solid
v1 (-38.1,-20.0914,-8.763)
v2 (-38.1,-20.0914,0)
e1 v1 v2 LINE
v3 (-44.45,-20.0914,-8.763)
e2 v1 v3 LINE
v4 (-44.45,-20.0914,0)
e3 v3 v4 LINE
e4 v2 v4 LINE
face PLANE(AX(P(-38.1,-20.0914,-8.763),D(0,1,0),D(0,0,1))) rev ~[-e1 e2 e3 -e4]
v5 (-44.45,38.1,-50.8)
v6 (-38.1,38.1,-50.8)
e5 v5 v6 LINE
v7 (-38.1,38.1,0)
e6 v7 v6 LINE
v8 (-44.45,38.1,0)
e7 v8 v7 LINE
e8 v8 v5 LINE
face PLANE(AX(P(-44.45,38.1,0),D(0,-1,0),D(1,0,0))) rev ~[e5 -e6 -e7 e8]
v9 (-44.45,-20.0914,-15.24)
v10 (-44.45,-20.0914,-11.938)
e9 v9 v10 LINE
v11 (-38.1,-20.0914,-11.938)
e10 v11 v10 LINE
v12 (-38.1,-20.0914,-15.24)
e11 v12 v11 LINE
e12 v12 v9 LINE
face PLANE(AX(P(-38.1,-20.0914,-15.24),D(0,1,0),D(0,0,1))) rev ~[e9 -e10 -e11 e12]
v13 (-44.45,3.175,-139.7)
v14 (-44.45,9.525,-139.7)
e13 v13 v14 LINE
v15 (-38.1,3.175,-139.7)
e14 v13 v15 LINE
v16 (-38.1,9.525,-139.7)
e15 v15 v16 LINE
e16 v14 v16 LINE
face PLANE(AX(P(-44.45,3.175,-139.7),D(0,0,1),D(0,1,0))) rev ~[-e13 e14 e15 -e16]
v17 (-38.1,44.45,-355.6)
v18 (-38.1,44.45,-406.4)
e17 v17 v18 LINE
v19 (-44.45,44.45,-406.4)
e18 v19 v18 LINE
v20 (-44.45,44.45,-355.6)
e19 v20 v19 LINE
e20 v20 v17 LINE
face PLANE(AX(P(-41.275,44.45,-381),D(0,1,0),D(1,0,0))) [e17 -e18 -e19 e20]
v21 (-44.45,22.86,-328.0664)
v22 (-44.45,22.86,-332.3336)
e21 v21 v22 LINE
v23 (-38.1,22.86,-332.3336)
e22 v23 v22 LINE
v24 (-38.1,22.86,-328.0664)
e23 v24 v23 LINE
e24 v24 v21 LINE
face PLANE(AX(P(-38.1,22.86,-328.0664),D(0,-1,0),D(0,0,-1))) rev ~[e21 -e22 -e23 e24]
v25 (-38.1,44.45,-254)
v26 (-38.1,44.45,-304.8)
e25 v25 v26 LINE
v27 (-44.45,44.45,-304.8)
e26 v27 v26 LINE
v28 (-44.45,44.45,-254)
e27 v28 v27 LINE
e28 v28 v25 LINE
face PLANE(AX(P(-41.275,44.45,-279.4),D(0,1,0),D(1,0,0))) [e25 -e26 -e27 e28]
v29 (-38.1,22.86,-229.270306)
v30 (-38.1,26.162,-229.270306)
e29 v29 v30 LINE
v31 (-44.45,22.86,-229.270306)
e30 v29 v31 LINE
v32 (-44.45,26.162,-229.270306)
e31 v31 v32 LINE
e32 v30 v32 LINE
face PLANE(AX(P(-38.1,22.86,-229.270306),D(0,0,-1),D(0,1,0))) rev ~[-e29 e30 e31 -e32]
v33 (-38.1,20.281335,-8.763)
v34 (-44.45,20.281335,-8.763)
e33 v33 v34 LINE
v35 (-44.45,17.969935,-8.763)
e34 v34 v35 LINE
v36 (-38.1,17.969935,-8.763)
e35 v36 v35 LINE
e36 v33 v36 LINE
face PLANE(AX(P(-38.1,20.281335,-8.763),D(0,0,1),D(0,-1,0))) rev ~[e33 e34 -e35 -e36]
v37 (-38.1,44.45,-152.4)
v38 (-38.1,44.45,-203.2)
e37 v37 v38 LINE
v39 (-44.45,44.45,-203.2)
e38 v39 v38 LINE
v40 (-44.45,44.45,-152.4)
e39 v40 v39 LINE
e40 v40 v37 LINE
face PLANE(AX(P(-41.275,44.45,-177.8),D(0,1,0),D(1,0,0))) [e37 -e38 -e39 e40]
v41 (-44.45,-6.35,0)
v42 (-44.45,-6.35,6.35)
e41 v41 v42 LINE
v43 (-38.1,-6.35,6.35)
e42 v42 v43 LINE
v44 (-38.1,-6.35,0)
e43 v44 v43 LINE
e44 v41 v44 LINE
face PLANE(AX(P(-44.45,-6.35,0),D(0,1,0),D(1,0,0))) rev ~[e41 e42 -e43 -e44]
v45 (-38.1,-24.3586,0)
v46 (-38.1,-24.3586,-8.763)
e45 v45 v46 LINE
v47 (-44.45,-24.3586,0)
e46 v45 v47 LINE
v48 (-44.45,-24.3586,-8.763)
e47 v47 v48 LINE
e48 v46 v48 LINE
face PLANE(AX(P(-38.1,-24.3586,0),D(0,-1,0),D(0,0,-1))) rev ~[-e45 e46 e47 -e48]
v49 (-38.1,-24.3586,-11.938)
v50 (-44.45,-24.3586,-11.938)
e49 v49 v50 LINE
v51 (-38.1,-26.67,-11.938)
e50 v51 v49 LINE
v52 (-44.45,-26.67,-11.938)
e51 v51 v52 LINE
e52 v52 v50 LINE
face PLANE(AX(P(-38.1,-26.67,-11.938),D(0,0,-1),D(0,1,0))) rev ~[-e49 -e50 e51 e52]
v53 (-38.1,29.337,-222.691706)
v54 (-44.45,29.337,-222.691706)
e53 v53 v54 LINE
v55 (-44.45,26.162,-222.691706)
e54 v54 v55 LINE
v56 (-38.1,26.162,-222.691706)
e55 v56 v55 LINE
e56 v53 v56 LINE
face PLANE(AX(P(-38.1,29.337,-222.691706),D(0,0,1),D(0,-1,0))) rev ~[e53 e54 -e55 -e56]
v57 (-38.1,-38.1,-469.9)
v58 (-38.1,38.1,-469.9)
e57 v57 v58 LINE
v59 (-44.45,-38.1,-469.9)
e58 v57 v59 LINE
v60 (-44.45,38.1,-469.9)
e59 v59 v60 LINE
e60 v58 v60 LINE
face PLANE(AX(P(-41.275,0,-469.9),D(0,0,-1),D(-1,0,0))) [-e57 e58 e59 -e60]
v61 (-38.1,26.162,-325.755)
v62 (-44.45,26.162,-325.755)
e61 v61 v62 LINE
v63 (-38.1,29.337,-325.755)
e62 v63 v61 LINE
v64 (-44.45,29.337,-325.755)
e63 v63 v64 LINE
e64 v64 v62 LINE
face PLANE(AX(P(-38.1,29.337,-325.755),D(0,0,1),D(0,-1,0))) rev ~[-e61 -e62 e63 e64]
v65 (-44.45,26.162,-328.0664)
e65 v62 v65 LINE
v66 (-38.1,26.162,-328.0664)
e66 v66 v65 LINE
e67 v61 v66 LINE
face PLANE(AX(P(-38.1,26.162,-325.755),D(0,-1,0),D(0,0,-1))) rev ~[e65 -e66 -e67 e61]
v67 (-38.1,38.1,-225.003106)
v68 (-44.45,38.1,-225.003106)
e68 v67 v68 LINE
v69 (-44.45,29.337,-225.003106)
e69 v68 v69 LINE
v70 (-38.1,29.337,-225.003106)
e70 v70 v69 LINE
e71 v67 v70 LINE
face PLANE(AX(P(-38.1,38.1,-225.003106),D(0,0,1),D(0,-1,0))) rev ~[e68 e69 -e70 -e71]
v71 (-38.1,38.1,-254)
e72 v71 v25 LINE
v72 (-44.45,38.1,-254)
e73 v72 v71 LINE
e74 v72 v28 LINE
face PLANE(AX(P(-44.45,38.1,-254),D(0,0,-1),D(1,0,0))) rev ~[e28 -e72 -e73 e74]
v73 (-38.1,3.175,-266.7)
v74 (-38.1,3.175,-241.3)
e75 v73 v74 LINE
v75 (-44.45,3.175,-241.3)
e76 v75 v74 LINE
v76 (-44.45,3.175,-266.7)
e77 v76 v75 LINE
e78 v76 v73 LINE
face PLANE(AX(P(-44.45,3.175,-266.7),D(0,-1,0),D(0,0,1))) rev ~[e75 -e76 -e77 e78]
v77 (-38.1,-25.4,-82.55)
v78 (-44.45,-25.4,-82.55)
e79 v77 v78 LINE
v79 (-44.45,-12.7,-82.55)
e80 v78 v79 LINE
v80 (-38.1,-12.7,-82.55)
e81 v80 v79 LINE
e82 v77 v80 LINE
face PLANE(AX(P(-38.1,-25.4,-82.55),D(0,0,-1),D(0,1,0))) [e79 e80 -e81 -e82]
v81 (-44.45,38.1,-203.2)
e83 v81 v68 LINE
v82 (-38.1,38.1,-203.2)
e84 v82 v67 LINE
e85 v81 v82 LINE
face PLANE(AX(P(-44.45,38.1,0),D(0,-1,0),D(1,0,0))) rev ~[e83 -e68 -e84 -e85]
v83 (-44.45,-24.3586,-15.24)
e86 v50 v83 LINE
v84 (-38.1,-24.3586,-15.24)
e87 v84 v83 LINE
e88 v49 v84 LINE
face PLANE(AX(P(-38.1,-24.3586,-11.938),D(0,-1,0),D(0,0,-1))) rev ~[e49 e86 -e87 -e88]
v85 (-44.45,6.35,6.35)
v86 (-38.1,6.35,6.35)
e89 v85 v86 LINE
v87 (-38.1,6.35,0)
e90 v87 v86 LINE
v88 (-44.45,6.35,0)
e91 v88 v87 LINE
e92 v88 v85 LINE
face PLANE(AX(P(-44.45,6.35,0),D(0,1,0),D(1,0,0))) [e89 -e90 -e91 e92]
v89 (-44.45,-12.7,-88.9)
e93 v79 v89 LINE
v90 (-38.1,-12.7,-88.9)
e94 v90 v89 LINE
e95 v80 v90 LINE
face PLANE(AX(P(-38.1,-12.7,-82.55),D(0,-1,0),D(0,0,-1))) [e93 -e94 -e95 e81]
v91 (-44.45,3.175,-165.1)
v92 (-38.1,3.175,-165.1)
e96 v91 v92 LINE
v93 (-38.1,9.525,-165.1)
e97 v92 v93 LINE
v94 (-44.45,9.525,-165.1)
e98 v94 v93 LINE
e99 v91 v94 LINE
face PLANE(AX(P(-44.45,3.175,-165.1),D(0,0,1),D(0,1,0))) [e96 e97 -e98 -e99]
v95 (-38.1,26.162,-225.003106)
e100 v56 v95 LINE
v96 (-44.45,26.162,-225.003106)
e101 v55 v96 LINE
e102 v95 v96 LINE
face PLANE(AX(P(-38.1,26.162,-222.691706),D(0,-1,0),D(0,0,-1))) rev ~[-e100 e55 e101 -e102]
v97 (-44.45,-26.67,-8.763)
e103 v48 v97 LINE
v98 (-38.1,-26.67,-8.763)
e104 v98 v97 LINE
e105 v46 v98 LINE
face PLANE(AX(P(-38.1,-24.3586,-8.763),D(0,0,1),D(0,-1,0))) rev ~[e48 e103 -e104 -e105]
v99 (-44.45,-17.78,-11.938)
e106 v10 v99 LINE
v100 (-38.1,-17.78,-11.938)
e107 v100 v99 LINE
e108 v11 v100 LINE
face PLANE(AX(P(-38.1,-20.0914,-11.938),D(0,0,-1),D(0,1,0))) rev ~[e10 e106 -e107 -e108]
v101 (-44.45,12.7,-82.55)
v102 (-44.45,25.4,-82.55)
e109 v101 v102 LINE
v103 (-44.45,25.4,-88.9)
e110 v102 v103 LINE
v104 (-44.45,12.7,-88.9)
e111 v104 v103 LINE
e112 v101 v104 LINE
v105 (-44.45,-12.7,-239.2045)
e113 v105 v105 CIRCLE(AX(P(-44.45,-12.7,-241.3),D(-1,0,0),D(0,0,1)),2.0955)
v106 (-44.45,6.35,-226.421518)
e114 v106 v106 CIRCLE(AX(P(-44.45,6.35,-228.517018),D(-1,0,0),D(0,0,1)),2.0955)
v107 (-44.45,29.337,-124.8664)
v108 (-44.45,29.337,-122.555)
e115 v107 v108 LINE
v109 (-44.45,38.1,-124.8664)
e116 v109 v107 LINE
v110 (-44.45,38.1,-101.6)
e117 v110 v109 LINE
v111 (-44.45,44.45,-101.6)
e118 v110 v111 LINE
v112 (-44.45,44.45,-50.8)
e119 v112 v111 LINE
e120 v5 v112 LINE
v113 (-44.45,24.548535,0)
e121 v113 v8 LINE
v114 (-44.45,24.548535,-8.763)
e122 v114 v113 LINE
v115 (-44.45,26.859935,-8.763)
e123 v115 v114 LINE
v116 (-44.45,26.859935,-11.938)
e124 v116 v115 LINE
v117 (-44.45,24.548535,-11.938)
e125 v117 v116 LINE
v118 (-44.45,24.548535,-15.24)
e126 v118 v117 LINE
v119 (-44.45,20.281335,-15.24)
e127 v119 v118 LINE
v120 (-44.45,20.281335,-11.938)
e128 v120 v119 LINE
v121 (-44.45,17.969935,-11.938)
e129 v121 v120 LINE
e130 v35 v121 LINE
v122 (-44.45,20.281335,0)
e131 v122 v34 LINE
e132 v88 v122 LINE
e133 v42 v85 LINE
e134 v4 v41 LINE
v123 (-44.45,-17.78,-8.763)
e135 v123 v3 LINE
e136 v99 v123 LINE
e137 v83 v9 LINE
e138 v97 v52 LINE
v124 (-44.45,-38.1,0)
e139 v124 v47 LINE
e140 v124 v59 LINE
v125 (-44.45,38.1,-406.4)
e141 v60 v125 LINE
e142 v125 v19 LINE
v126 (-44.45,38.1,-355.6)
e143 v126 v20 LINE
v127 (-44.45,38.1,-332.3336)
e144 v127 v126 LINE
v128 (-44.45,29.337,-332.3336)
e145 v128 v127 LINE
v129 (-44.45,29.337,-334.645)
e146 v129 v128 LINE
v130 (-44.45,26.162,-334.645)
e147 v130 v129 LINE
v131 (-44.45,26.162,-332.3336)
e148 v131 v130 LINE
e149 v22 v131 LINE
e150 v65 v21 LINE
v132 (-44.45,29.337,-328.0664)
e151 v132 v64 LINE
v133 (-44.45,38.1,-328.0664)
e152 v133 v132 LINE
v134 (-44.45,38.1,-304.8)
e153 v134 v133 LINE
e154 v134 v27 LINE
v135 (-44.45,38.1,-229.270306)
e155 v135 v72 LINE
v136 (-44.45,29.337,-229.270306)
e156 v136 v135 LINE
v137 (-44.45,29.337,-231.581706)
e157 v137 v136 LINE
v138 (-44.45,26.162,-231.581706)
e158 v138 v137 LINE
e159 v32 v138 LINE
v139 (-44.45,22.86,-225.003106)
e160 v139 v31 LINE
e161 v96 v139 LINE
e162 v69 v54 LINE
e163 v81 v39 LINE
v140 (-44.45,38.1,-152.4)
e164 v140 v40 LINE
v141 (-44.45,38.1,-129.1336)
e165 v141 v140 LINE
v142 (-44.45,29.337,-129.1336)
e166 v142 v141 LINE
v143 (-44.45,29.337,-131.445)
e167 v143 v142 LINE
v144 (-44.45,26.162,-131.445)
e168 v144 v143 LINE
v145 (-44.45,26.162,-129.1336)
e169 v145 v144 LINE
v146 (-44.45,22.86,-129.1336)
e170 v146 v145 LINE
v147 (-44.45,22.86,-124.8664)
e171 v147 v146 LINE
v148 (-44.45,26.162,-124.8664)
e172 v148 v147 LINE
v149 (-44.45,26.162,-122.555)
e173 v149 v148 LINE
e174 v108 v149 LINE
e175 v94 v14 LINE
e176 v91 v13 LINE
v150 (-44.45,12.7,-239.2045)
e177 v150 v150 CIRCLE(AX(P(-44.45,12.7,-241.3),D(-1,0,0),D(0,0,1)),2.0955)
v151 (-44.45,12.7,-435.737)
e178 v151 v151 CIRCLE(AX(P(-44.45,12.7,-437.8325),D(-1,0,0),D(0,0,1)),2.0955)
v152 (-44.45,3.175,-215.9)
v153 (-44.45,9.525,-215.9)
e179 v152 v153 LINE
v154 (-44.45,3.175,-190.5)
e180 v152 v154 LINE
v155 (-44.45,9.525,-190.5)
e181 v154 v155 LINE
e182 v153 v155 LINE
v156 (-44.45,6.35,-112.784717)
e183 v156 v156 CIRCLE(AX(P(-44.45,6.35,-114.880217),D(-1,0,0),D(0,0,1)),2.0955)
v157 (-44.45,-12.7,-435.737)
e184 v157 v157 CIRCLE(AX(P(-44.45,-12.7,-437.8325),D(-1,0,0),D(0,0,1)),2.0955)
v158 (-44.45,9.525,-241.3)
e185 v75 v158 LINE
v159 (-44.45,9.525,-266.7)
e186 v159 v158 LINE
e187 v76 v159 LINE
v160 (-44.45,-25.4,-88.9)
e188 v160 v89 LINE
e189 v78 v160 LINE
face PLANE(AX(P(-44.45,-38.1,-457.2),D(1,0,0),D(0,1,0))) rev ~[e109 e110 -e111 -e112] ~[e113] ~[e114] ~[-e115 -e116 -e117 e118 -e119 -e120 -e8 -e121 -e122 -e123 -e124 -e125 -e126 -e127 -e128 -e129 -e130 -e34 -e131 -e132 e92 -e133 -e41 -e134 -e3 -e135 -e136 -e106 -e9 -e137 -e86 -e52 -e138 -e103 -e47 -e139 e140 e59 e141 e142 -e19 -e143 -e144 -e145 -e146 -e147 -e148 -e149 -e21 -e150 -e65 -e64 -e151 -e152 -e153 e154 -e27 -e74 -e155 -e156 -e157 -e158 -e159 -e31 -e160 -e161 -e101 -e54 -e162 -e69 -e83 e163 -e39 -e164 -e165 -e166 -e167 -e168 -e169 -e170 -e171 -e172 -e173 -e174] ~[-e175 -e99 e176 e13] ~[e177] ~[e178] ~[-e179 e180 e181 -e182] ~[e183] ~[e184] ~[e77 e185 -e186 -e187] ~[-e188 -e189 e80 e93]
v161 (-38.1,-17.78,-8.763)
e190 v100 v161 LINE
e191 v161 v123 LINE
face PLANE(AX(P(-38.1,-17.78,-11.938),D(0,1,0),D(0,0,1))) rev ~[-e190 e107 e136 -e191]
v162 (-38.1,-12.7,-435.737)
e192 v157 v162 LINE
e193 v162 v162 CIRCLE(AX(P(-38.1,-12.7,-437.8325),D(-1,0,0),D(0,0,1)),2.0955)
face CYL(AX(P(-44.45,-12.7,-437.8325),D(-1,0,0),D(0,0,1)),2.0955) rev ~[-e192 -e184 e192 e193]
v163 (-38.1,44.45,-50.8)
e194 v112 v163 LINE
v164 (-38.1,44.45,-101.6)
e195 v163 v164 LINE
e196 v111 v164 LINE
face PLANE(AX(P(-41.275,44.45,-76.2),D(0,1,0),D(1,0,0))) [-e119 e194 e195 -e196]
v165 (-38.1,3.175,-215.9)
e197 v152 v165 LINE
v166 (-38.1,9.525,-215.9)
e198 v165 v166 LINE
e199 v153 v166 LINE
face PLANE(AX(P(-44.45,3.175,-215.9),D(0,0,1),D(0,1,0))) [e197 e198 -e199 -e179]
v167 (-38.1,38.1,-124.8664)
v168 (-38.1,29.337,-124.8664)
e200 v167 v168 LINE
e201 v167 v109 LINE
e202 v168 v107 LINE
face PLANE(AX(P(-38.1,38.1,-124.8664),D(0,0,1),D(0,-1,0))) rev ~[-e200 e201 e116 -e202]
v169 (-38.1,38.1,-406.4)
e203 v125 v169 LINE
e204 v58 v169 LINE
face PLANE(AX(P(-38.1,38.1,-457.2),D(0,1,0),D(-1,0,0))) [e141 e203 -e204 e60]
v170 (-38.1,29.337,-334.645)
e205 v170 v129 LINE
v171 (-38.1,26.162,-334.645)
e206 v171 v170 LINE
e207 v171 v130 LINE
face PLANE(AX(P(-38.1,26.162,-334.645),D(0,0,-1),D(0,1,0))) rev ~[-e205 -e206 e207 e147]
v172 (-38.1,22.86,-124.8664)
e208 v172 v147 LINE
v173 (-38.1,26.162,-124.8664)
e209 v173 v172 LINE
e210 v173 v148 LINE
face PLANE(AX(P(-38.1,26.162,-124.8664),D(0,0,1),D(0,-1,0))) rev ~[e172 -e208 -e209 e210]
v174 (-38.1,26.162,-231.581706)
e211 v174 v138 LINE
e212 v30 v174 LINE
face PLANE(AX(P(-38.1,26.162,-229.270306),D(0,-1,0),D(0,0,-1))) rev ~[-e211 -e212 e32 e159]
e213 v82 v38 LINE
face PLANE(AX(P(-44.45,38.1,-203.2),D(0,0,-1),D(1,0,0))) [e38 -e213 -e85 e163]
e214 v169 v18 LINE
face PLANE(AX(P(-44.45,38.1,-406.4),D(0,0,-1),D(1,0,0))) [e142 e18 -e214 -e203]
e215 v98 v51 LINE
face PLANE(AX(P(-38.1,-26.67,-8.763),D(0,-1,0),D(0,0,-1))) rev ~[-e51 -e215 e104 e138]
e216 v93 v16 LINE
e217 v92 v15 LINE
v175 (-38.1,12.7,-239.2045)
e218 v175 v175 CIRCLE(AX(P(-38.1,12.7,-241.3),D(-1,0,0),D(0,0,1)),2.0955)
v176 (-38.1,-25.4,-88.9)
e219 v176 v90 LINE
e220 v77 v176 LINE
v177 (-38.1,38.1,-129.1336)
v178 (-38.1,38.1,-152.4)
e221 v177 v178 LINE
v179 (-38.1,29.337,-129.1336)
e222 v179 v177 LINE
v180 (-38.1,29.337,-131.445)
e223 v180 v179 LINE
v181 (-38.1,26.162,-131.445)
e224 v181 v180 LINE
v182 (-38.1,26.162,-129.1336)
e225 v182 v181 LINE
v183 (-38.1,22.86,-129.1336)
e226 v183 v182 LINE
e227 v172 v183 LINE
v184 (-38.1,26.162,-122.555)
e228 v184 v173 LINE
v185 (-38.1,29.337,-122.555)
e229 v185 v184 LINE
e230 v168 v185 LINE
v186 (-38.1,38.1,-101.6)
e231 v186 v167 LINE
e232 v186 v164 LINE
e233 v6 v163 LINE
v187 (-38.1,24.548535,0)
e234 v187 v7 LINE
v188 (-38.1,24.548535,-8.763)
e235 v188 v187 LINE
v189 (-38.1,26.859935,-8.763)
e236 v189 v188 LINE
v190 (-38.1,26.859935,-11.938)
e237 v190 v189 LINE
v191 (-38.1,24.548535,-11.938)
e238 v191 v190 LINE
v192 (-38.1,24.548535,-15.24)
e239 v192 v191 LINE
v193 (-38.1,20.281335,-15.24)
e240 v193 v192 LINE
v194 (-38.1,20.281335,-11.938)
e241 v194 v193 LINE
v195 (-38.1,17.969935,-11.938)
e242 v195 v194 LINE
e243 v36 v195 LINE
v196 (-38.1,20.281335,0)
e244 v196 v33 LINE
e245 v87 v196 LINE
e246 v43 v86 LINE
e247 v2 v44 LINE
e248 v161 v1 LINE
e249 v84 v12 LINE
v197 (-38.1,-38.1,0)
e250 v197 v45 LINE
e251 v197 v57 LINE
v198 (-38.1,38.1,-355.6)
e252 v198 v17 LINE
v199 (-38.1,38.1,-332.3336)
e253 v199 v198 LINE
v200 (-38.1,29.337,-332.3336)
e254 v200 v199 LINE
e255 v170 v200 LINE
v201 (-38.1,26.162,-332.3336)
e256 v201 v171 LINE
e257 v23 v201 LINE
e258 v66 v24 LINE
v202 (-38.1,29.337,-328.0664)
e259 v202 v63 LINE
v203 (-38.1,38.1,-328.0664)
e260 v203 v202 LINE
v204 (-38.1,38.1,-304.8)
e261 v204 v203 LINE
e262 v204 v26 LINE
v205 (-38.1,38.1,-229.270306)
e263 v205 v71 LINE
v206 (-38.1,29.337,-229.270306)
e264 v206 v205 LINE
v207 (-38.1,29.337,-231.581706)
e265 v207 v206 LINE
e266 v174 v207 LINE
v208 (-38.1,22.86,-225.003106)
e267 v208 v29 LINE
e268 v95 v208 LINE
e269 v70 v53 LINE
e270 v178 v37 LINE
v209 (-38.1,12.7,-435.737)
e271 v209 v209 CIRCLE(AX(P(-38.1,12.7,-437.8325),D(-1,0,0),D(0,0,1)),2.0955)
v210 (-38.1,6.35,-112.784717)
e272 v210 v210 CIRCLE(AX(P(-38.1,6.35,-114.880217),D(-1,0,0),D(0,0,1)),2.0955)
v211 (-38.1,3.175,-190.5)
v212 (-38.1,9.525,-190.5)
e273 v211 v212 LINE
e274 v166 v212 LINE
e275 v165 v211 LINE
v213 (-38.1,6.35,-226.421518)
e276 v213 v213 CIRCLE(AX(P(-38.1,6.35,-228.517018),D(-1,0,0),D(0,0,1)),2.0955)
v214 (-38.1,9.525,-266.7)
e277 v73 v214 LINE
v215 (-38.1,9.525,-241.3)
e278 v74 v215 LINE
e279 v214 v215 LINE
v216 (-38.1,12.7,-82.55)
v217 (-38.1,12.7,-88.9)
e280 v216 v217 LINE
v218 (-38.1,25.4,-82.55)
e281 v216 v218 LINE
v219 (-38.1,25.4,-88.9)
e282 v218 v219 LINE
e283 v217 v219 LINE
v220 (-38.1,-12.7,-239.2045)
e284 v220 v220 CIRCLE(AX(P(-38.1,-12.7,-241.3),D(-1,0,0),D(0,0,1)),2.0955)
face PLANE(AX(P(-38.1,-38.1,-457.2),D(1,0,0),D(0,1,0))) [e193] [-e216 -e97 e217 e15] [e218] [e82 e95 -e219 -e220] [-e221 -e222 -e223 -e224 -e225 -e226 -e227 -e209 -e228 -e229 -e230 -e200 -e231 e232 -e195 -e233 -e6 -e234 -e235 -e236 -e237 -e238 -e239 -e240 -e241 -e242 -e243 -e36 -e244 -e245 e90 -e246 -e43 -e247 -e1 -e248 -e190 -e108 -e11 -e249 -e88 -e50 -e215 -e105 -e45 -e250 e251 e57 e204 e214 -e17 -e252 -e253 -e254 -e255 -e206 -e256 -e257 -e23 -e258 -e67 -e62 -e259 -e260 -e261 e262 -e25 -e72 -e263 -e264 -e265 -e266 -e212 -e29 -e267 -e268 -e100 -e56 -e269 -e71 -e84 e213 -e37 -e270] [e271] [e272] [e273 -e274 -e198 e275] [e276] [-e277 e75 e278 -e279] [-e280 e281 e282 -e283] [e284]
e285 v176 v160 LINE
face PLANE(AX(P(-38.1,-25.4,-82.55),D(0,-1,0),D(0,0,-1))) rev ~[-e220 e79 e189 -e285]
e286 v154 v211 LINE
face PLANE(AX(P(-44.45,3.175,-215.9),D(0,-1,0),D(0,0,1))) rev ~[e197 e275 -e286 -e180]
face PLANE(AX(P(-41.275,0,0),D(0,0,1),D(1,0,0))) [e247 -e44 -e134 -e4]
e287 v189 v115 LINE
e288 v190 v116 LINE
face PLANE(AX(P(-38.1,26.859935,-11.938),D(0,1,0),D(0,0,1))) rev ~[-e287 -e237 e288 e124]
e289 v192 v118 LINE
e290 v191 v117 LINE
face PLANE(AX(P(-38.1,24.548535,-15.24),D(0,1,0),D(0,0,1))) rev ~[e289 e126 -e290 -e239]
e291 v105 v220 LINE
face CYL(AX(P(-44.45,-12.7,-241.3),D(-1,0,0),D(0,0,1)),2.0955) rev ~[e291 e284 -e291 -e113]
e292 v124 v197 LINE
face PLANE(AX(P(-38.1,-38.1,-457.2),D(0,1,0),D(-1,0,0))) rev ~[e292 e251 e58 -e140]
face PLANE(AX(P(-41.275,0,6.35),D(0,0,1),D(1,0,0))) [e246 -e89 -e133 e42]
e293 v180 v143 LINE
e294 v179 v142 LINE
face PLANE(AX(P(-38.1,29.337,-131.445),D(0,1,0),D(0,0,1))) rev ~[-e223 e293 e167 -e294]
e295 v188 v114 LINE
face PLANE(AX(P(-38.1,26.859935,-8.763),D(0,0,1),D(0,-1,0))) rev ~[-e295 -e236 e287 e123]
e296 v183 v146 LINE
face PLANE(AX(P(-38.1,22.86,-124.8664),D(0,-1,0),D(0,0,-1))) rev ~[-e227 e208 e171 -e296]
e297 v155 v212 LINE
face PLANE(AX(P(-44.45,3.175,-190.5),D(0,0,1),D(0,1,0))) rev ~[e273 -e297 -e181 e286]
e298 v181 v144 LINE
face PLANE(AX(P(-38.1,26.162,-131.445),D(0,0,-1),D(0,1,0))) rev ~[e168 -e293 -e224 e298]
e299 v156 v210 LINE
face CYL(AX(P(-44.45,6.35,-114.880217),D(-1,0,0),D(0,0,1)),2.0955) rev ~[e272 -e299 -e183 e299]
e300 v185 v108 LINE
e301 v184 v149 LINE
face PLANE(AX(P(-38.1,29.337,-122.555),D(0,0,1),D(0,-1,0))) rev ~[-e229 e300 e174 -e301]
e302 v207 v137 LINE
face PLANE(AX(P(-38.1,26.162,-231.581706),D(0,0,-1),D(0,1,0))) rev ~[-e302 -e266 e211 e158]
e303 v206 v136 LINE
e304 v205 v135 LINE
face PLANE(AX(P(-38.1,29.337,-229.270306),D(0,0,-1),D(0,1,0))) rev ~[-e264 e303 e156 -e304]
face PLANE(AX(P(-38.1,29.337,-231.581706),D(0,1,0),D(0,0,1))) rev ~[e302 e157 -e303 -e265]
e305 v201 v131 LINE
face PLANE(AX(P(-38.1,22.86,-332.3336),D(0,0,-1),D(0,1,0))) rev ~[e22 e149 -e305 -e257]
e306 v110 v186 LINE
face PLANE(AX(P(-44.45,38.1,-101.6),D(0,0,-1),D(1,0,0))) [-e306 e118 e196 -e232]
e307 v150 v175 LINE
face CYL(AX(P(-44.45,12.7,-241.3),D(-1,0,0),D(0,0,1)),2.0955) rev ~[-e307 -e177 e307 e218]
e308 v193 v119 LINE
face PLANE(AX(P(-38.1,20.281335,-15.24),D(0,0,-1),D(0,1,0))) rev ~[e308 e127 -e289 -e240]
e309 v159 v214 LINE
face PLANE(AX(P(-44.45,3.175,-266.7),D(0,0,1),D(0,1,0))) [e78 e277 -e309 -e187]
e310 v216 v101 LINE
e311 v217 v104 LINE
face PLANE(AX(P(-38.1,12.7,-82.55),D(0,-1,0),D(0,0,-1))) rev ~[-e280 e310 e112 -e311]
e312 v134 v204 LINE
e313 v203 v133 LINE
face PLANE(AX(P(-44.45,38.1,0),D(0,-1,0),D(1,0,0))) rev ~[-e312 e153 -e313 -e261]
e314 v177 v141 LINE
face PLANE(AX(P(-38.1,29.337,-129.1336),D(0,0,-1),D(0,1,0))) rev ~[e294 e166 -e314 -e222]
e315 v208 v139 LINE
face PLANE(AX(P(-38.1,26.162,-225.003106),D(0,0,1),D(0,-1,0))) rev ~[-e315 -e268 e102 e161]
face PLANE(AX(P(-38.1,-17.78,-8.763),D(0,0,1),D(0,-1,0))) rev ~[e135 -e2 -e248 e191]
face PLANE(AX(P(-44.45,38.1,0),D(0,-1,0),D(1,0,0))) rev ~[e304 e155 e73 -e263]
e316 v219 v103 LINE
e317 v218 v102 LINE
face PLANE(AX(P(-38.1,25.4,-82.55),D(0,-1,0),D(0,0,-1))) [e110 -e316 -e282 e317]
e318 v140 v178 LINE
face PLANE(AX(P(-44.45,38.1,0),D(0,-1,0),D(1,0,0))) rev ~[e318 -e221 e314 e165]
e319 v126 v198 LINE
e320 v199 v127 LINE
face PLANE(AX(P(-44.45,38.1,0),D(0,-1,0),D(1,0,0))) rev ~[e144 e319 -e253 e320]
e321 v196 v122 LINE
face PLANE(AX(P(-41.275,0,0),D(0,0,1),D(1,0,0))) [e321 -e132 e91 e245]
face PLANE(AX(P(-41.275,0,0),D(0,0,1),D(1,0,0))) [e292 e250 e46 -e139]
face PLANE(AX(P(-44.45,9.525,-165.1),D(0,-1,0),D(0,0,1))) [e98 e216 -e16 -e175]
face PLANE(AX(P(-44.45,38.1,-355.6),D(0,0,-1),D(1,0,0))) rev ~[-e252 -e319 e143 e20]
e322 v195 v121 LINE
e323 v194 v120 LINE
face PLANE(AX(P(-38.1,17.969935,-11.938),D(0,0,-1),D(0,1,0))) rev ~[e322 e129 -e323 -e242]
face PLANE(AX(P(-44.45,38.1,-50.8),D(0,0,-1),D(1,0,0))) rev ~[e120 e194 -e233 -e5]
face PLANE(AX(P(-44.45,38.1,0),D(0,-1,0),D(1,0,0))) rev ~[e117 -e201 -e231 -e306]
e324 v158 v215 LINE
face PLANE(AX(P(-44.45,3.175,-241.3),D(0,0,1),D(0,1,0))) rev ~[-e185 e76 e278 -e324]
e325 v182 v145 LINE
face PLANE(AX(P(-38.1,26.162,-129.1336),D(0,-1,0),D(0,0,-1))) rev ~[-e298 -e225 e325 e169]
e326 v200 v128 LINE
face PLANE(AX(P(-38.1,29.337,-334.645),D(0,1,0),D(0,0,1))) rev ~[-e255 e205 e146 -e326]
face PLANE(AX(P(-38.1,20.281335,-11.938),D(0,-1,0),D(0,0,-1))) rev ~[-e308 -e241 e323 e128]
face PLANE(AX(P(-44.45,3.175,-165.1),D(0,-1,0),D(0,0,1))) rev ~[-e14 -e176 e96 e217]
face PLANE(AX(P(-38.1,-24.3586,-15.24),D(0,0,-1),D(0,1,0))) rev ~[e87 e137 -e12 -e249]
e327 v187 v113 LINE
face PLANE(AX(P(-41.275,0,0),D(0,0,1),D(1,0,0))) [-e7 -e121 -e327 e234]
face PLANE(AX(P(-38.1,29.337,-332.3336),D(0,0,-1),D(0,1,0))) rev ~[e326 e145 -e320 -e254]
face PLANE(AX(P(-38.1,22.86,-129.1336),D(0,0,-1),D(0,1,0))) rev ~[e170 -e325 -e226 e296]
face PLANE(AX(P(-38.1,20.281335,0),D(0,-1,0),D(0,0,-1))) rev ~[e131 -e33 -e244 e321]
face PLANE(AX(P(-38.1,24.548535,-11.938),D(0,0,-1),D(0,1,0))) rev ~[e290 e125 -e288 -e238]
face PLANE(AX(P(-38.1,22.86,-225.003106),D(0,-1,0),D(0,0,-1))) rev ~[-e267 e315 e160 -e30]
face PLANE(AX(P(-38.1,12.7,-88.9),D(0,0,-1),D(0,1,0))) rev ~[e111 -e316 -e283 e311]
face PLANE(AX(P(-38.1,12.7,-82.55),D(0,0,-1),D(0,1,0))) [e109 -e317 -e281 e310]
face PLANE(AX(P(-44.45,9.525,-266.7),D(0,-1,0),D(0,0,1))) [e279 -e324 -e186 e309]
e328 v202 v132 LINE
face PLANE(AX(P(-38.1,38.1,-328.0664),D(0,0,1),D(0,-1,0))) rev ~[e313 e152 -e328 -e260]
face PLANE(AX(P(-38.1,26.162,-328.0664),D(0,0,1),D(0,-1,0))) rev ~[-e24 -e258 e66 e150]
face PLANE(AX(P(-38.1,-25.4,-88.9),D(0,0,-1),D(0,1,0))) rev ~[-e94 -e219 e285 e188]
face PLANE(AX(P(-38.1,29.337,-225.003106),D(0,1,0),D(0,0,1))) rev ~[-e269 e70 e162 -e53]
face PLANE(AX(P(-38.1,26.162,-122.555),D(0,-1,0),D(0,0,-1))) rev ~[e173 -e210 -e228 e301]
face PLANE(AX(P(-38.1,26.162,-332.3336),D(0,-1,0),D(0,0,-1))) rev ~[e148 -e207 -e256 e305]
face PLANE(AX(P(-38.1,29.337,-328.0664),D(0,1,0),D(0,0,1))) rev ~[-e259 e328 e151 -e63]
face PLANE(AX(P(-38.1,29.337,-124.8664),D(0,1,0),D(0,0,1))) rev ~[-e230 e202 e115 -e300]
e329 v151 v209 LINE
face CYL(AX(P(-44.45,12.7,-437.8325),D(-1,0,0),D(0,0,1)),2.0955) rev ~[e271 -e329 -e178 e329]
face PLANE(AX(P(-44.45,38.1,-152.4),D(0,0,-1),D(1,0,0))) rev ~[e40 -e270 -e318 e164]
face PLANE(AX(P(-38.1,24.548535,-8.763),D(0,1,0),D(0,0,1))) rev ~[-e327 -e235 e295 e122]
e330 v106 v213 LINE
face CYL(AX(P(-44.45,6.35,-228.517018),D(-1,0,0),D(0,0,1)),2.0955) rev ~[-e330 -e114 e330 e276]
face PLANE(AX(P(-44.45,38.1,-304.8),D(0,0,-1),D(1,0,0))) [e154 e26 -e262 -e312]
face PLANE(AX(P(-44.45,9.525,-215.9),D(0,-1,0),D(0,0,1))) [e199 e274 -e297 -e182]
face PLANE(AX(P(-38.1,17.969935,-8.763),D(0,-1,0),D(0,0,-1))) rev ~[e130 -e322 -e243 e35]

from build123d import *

# Parameters (mm, degrees)
SKETCH1_W           = 6.35
SKETCH1_H           = 76.2
BOSS_EXTRUDE1_DEPTH = 457.2
SKETCH2_W           = 6.35
SKETCH2_H           = 50.8
BOSS_EXTRUDE2_DEPTH = 6.35
SKETCH3_W           = 6.35
SKETCH3_H           = 12.7
CUT_EXTRUDE1_DEPTH  = 460.399570091
SKETCH4_W           = 6.35
SKETCH4_H           = 12.7
BOSS_EXTRUDE4_DEPTH = 6.35
SKETCH7_R           = 2.0955
CUT_EXTRUDE2_DEPTH  = 460.399570091
SKETCH9_R           = 2.0955
SKETCH9_W           = 25.4
SKETCH9_H           = 6.35
CUT_EXTRUDE3_DEPTH  = 6.35
CUT_EXTRUDE4_DEPTH  = 6.35
SKETCH11_W          = 6.35
SKETCH11_H          = 76.2
BOSS_EXTRUDE5_DEPTH = 12.7


with BuildPart() as part:
    # Sketch1 → Boss-Extrude1 (new body)
    with BuildSketch(Plane.XY):
        with Locations((-41.275, 0)):
            Rectangle(SKETCH1_W, SKETCH1_H)
    extrude(amount=-BOSS_EXTRUDE1_DEPTH)

    # Sketch2 → Boss-Extrude2 (add)
    with BuildSketch(Plane(origin=(0, 38.1, 0), x_dir=(1, 0, 0), z_dir=(0, 1, 0))):
        with Locations((-41.275, 381)):
            Rectangle(SKETCH2_W, SKETCH2_H)
        with Locations((-41.275, 279.4)):
            Rectangle(SKETCH2_W, SKETCH2_H)
        with Locations((-41.275, 177.8)):
            Rectangle(SKETCH2_W, SKETCH2_H)
        with Locations((-41.275, 76.2)):
            Rectangle(SKETCH2_W, SKETCH2_H)
    extrude(amount=BOSS_EXTRUDE2_DEPTH)

    # Sketch3 → Cut-Extrude1 (cut, through all)
    with BuildSketch(Plane(origin=(-38.1, 0, 0), x_dir=(0, 0, -1), z_dir=(1, 0, 0))):
        with Locations((85.725, 19.05)):
            Rectangle(SKETCH3_W, SKETCH3_H)
        with Locations((85.725, -19.05)):
            Rectangle(SKETCH3_W, SKETCH3_H)
    extrude(amount=-CUT_EXTRUDE1_DEPTH, mode=Mode.SUBTRACT)

    # Sketch4 → Boss-Extrude4 (add)
    with BuildSketch(Plane.XY):
        with Locations((-41.275, 0)):
            Rectangle(SKETCH4_W, SKETCH4_H)
    extrude(amount=BOSS_EXTRUDE4_DEPTH)

    # Sketch7 → Cut-Extrude2 (cut, through all)
    with BuildSketch(Plane.ZY.offset(44.45)):
        with Locations((-241.3, -12.7)):
            Circle(SKETCH7_R)
        with Locations((-241.3, 12.7)):
            Circle(SKETCH7_R)
        with Locations((-437.8325, -12.7)):
            Circle(SKETCH7_R)
        with Locations((-437.8325, 12.7)):
            Circle(SKETCH7_R)
    extrude(amount=-CUT_EXTRUDE2_DEPTH, mode=Mode.SUBTRACT)

    # Sketch9 → Cut-Extrude3 (cut)
    with BuildSketch(Plane.ZY.offset(44.45)):
        with Locations((-114.880216651, 6.35)):
            Circle(SKETCH9_R)
        with Locations((-228.517018256, 6.35)):
            Circle(SKETCH9_R)
        with Locations((-254, 6.35)):
            Rectangle(SKETCH9_W, SKETCH9_H)
        with Locations((-203.2, 6.35)):
            Rectangle(SKETCH9_W, SKETCH9_H)
        with Locations((-152.4, 6.35)):
            Rectangle(SKETCH9_W, SKETCH9_H)
    extrude(amount=-CUT_EXTRUDE3_DEPTH, mode=Mode.SUBTRACT)

    # Sketch10 → Cut-Extrude4 (cut)
    with BuildSketch(Plane(origin=(-38.1, 0, 0), x_dir=(0, 0, -1), z_dir=(1, 0, 0))):
        Polygon((0, 24.548534751), (0, 20.281334751), (8.763, 20.281334751), (8.763, 17.969934751), (11.938, 17.969934751), (11.938, 20.281334751), (15.24, 20.281334751), (15.24, 24.548534751), (11.938, 24.548534751), (11.938, 26.859934751), (8.763, 26.859934751), (8.763, 24.548534751), align=None)
        Polygon((0, -20.0914), (0, -24.3586), (8.763, -24.3586), (8.763, -26.67), (11.938, -26.67), (11.938, -24.3586), (15.24, -24.3586), (15.24, -20.0914), (11.938, -20.0914), (11.938, -17.78), (8.763, -17.78), (8.763, -20.0914), align=None)
        Polygon((332.3336, 38.1), (328.0664, 38.1), (328.0664, 29.337), (325.755, 29.337), (325.755, 26.162), (328.0664, 26.162), (328.0664, 22.86), (332.3336, 22.86), (332.3336, 26.162), (334.645, 26.162), (334.645, 29.337), (332.3336, 29.337), align=None)
        Polygon((229.270305867, 38.1), (225.003105867, 38.1), (225.003105867, 29.337), (222.691705867, 29.337), (222.691705867, 26.162), (225.003105867, 26.162), (225.003105867, 22.86), (229.270305867, 22.86), (229.270305867, 26.162), (231.581705867, 26.162), (231.581705867, 29.337), (229.270305867, 29.337), align=None)
        Polygon((129.1336, 38.1), (124.8664, 38.1), (124.8664, 29.337), (122.555, 29.337), (122.555, 26.162), (124.8664, 26.162), (124.8664, 22.86), (129.1336, 22.86), (129.1336, 26.162), (131.445, 26.162), (131.445, 29.337), (129.1336, 29.337), align=None)
    extrude(amount=-CUT_EXTRUDE4_DEPTH, mode=Mode.SUBTRACT)

    # Sketch11 → Boss-Extrude5 (add)
    with BuildSketch(Plane(origin=(0, 0, -457.2), x_dir=(-1, 0, 0), z_dir=(0, 0, -1))):
        with Locations((41.275, 0)):
            Rectangle(SKETCH11_W, SKETCH11_H)
    extrude(amount=BOSS_EXTRUDE5_DEPTH)


solid = part.part
